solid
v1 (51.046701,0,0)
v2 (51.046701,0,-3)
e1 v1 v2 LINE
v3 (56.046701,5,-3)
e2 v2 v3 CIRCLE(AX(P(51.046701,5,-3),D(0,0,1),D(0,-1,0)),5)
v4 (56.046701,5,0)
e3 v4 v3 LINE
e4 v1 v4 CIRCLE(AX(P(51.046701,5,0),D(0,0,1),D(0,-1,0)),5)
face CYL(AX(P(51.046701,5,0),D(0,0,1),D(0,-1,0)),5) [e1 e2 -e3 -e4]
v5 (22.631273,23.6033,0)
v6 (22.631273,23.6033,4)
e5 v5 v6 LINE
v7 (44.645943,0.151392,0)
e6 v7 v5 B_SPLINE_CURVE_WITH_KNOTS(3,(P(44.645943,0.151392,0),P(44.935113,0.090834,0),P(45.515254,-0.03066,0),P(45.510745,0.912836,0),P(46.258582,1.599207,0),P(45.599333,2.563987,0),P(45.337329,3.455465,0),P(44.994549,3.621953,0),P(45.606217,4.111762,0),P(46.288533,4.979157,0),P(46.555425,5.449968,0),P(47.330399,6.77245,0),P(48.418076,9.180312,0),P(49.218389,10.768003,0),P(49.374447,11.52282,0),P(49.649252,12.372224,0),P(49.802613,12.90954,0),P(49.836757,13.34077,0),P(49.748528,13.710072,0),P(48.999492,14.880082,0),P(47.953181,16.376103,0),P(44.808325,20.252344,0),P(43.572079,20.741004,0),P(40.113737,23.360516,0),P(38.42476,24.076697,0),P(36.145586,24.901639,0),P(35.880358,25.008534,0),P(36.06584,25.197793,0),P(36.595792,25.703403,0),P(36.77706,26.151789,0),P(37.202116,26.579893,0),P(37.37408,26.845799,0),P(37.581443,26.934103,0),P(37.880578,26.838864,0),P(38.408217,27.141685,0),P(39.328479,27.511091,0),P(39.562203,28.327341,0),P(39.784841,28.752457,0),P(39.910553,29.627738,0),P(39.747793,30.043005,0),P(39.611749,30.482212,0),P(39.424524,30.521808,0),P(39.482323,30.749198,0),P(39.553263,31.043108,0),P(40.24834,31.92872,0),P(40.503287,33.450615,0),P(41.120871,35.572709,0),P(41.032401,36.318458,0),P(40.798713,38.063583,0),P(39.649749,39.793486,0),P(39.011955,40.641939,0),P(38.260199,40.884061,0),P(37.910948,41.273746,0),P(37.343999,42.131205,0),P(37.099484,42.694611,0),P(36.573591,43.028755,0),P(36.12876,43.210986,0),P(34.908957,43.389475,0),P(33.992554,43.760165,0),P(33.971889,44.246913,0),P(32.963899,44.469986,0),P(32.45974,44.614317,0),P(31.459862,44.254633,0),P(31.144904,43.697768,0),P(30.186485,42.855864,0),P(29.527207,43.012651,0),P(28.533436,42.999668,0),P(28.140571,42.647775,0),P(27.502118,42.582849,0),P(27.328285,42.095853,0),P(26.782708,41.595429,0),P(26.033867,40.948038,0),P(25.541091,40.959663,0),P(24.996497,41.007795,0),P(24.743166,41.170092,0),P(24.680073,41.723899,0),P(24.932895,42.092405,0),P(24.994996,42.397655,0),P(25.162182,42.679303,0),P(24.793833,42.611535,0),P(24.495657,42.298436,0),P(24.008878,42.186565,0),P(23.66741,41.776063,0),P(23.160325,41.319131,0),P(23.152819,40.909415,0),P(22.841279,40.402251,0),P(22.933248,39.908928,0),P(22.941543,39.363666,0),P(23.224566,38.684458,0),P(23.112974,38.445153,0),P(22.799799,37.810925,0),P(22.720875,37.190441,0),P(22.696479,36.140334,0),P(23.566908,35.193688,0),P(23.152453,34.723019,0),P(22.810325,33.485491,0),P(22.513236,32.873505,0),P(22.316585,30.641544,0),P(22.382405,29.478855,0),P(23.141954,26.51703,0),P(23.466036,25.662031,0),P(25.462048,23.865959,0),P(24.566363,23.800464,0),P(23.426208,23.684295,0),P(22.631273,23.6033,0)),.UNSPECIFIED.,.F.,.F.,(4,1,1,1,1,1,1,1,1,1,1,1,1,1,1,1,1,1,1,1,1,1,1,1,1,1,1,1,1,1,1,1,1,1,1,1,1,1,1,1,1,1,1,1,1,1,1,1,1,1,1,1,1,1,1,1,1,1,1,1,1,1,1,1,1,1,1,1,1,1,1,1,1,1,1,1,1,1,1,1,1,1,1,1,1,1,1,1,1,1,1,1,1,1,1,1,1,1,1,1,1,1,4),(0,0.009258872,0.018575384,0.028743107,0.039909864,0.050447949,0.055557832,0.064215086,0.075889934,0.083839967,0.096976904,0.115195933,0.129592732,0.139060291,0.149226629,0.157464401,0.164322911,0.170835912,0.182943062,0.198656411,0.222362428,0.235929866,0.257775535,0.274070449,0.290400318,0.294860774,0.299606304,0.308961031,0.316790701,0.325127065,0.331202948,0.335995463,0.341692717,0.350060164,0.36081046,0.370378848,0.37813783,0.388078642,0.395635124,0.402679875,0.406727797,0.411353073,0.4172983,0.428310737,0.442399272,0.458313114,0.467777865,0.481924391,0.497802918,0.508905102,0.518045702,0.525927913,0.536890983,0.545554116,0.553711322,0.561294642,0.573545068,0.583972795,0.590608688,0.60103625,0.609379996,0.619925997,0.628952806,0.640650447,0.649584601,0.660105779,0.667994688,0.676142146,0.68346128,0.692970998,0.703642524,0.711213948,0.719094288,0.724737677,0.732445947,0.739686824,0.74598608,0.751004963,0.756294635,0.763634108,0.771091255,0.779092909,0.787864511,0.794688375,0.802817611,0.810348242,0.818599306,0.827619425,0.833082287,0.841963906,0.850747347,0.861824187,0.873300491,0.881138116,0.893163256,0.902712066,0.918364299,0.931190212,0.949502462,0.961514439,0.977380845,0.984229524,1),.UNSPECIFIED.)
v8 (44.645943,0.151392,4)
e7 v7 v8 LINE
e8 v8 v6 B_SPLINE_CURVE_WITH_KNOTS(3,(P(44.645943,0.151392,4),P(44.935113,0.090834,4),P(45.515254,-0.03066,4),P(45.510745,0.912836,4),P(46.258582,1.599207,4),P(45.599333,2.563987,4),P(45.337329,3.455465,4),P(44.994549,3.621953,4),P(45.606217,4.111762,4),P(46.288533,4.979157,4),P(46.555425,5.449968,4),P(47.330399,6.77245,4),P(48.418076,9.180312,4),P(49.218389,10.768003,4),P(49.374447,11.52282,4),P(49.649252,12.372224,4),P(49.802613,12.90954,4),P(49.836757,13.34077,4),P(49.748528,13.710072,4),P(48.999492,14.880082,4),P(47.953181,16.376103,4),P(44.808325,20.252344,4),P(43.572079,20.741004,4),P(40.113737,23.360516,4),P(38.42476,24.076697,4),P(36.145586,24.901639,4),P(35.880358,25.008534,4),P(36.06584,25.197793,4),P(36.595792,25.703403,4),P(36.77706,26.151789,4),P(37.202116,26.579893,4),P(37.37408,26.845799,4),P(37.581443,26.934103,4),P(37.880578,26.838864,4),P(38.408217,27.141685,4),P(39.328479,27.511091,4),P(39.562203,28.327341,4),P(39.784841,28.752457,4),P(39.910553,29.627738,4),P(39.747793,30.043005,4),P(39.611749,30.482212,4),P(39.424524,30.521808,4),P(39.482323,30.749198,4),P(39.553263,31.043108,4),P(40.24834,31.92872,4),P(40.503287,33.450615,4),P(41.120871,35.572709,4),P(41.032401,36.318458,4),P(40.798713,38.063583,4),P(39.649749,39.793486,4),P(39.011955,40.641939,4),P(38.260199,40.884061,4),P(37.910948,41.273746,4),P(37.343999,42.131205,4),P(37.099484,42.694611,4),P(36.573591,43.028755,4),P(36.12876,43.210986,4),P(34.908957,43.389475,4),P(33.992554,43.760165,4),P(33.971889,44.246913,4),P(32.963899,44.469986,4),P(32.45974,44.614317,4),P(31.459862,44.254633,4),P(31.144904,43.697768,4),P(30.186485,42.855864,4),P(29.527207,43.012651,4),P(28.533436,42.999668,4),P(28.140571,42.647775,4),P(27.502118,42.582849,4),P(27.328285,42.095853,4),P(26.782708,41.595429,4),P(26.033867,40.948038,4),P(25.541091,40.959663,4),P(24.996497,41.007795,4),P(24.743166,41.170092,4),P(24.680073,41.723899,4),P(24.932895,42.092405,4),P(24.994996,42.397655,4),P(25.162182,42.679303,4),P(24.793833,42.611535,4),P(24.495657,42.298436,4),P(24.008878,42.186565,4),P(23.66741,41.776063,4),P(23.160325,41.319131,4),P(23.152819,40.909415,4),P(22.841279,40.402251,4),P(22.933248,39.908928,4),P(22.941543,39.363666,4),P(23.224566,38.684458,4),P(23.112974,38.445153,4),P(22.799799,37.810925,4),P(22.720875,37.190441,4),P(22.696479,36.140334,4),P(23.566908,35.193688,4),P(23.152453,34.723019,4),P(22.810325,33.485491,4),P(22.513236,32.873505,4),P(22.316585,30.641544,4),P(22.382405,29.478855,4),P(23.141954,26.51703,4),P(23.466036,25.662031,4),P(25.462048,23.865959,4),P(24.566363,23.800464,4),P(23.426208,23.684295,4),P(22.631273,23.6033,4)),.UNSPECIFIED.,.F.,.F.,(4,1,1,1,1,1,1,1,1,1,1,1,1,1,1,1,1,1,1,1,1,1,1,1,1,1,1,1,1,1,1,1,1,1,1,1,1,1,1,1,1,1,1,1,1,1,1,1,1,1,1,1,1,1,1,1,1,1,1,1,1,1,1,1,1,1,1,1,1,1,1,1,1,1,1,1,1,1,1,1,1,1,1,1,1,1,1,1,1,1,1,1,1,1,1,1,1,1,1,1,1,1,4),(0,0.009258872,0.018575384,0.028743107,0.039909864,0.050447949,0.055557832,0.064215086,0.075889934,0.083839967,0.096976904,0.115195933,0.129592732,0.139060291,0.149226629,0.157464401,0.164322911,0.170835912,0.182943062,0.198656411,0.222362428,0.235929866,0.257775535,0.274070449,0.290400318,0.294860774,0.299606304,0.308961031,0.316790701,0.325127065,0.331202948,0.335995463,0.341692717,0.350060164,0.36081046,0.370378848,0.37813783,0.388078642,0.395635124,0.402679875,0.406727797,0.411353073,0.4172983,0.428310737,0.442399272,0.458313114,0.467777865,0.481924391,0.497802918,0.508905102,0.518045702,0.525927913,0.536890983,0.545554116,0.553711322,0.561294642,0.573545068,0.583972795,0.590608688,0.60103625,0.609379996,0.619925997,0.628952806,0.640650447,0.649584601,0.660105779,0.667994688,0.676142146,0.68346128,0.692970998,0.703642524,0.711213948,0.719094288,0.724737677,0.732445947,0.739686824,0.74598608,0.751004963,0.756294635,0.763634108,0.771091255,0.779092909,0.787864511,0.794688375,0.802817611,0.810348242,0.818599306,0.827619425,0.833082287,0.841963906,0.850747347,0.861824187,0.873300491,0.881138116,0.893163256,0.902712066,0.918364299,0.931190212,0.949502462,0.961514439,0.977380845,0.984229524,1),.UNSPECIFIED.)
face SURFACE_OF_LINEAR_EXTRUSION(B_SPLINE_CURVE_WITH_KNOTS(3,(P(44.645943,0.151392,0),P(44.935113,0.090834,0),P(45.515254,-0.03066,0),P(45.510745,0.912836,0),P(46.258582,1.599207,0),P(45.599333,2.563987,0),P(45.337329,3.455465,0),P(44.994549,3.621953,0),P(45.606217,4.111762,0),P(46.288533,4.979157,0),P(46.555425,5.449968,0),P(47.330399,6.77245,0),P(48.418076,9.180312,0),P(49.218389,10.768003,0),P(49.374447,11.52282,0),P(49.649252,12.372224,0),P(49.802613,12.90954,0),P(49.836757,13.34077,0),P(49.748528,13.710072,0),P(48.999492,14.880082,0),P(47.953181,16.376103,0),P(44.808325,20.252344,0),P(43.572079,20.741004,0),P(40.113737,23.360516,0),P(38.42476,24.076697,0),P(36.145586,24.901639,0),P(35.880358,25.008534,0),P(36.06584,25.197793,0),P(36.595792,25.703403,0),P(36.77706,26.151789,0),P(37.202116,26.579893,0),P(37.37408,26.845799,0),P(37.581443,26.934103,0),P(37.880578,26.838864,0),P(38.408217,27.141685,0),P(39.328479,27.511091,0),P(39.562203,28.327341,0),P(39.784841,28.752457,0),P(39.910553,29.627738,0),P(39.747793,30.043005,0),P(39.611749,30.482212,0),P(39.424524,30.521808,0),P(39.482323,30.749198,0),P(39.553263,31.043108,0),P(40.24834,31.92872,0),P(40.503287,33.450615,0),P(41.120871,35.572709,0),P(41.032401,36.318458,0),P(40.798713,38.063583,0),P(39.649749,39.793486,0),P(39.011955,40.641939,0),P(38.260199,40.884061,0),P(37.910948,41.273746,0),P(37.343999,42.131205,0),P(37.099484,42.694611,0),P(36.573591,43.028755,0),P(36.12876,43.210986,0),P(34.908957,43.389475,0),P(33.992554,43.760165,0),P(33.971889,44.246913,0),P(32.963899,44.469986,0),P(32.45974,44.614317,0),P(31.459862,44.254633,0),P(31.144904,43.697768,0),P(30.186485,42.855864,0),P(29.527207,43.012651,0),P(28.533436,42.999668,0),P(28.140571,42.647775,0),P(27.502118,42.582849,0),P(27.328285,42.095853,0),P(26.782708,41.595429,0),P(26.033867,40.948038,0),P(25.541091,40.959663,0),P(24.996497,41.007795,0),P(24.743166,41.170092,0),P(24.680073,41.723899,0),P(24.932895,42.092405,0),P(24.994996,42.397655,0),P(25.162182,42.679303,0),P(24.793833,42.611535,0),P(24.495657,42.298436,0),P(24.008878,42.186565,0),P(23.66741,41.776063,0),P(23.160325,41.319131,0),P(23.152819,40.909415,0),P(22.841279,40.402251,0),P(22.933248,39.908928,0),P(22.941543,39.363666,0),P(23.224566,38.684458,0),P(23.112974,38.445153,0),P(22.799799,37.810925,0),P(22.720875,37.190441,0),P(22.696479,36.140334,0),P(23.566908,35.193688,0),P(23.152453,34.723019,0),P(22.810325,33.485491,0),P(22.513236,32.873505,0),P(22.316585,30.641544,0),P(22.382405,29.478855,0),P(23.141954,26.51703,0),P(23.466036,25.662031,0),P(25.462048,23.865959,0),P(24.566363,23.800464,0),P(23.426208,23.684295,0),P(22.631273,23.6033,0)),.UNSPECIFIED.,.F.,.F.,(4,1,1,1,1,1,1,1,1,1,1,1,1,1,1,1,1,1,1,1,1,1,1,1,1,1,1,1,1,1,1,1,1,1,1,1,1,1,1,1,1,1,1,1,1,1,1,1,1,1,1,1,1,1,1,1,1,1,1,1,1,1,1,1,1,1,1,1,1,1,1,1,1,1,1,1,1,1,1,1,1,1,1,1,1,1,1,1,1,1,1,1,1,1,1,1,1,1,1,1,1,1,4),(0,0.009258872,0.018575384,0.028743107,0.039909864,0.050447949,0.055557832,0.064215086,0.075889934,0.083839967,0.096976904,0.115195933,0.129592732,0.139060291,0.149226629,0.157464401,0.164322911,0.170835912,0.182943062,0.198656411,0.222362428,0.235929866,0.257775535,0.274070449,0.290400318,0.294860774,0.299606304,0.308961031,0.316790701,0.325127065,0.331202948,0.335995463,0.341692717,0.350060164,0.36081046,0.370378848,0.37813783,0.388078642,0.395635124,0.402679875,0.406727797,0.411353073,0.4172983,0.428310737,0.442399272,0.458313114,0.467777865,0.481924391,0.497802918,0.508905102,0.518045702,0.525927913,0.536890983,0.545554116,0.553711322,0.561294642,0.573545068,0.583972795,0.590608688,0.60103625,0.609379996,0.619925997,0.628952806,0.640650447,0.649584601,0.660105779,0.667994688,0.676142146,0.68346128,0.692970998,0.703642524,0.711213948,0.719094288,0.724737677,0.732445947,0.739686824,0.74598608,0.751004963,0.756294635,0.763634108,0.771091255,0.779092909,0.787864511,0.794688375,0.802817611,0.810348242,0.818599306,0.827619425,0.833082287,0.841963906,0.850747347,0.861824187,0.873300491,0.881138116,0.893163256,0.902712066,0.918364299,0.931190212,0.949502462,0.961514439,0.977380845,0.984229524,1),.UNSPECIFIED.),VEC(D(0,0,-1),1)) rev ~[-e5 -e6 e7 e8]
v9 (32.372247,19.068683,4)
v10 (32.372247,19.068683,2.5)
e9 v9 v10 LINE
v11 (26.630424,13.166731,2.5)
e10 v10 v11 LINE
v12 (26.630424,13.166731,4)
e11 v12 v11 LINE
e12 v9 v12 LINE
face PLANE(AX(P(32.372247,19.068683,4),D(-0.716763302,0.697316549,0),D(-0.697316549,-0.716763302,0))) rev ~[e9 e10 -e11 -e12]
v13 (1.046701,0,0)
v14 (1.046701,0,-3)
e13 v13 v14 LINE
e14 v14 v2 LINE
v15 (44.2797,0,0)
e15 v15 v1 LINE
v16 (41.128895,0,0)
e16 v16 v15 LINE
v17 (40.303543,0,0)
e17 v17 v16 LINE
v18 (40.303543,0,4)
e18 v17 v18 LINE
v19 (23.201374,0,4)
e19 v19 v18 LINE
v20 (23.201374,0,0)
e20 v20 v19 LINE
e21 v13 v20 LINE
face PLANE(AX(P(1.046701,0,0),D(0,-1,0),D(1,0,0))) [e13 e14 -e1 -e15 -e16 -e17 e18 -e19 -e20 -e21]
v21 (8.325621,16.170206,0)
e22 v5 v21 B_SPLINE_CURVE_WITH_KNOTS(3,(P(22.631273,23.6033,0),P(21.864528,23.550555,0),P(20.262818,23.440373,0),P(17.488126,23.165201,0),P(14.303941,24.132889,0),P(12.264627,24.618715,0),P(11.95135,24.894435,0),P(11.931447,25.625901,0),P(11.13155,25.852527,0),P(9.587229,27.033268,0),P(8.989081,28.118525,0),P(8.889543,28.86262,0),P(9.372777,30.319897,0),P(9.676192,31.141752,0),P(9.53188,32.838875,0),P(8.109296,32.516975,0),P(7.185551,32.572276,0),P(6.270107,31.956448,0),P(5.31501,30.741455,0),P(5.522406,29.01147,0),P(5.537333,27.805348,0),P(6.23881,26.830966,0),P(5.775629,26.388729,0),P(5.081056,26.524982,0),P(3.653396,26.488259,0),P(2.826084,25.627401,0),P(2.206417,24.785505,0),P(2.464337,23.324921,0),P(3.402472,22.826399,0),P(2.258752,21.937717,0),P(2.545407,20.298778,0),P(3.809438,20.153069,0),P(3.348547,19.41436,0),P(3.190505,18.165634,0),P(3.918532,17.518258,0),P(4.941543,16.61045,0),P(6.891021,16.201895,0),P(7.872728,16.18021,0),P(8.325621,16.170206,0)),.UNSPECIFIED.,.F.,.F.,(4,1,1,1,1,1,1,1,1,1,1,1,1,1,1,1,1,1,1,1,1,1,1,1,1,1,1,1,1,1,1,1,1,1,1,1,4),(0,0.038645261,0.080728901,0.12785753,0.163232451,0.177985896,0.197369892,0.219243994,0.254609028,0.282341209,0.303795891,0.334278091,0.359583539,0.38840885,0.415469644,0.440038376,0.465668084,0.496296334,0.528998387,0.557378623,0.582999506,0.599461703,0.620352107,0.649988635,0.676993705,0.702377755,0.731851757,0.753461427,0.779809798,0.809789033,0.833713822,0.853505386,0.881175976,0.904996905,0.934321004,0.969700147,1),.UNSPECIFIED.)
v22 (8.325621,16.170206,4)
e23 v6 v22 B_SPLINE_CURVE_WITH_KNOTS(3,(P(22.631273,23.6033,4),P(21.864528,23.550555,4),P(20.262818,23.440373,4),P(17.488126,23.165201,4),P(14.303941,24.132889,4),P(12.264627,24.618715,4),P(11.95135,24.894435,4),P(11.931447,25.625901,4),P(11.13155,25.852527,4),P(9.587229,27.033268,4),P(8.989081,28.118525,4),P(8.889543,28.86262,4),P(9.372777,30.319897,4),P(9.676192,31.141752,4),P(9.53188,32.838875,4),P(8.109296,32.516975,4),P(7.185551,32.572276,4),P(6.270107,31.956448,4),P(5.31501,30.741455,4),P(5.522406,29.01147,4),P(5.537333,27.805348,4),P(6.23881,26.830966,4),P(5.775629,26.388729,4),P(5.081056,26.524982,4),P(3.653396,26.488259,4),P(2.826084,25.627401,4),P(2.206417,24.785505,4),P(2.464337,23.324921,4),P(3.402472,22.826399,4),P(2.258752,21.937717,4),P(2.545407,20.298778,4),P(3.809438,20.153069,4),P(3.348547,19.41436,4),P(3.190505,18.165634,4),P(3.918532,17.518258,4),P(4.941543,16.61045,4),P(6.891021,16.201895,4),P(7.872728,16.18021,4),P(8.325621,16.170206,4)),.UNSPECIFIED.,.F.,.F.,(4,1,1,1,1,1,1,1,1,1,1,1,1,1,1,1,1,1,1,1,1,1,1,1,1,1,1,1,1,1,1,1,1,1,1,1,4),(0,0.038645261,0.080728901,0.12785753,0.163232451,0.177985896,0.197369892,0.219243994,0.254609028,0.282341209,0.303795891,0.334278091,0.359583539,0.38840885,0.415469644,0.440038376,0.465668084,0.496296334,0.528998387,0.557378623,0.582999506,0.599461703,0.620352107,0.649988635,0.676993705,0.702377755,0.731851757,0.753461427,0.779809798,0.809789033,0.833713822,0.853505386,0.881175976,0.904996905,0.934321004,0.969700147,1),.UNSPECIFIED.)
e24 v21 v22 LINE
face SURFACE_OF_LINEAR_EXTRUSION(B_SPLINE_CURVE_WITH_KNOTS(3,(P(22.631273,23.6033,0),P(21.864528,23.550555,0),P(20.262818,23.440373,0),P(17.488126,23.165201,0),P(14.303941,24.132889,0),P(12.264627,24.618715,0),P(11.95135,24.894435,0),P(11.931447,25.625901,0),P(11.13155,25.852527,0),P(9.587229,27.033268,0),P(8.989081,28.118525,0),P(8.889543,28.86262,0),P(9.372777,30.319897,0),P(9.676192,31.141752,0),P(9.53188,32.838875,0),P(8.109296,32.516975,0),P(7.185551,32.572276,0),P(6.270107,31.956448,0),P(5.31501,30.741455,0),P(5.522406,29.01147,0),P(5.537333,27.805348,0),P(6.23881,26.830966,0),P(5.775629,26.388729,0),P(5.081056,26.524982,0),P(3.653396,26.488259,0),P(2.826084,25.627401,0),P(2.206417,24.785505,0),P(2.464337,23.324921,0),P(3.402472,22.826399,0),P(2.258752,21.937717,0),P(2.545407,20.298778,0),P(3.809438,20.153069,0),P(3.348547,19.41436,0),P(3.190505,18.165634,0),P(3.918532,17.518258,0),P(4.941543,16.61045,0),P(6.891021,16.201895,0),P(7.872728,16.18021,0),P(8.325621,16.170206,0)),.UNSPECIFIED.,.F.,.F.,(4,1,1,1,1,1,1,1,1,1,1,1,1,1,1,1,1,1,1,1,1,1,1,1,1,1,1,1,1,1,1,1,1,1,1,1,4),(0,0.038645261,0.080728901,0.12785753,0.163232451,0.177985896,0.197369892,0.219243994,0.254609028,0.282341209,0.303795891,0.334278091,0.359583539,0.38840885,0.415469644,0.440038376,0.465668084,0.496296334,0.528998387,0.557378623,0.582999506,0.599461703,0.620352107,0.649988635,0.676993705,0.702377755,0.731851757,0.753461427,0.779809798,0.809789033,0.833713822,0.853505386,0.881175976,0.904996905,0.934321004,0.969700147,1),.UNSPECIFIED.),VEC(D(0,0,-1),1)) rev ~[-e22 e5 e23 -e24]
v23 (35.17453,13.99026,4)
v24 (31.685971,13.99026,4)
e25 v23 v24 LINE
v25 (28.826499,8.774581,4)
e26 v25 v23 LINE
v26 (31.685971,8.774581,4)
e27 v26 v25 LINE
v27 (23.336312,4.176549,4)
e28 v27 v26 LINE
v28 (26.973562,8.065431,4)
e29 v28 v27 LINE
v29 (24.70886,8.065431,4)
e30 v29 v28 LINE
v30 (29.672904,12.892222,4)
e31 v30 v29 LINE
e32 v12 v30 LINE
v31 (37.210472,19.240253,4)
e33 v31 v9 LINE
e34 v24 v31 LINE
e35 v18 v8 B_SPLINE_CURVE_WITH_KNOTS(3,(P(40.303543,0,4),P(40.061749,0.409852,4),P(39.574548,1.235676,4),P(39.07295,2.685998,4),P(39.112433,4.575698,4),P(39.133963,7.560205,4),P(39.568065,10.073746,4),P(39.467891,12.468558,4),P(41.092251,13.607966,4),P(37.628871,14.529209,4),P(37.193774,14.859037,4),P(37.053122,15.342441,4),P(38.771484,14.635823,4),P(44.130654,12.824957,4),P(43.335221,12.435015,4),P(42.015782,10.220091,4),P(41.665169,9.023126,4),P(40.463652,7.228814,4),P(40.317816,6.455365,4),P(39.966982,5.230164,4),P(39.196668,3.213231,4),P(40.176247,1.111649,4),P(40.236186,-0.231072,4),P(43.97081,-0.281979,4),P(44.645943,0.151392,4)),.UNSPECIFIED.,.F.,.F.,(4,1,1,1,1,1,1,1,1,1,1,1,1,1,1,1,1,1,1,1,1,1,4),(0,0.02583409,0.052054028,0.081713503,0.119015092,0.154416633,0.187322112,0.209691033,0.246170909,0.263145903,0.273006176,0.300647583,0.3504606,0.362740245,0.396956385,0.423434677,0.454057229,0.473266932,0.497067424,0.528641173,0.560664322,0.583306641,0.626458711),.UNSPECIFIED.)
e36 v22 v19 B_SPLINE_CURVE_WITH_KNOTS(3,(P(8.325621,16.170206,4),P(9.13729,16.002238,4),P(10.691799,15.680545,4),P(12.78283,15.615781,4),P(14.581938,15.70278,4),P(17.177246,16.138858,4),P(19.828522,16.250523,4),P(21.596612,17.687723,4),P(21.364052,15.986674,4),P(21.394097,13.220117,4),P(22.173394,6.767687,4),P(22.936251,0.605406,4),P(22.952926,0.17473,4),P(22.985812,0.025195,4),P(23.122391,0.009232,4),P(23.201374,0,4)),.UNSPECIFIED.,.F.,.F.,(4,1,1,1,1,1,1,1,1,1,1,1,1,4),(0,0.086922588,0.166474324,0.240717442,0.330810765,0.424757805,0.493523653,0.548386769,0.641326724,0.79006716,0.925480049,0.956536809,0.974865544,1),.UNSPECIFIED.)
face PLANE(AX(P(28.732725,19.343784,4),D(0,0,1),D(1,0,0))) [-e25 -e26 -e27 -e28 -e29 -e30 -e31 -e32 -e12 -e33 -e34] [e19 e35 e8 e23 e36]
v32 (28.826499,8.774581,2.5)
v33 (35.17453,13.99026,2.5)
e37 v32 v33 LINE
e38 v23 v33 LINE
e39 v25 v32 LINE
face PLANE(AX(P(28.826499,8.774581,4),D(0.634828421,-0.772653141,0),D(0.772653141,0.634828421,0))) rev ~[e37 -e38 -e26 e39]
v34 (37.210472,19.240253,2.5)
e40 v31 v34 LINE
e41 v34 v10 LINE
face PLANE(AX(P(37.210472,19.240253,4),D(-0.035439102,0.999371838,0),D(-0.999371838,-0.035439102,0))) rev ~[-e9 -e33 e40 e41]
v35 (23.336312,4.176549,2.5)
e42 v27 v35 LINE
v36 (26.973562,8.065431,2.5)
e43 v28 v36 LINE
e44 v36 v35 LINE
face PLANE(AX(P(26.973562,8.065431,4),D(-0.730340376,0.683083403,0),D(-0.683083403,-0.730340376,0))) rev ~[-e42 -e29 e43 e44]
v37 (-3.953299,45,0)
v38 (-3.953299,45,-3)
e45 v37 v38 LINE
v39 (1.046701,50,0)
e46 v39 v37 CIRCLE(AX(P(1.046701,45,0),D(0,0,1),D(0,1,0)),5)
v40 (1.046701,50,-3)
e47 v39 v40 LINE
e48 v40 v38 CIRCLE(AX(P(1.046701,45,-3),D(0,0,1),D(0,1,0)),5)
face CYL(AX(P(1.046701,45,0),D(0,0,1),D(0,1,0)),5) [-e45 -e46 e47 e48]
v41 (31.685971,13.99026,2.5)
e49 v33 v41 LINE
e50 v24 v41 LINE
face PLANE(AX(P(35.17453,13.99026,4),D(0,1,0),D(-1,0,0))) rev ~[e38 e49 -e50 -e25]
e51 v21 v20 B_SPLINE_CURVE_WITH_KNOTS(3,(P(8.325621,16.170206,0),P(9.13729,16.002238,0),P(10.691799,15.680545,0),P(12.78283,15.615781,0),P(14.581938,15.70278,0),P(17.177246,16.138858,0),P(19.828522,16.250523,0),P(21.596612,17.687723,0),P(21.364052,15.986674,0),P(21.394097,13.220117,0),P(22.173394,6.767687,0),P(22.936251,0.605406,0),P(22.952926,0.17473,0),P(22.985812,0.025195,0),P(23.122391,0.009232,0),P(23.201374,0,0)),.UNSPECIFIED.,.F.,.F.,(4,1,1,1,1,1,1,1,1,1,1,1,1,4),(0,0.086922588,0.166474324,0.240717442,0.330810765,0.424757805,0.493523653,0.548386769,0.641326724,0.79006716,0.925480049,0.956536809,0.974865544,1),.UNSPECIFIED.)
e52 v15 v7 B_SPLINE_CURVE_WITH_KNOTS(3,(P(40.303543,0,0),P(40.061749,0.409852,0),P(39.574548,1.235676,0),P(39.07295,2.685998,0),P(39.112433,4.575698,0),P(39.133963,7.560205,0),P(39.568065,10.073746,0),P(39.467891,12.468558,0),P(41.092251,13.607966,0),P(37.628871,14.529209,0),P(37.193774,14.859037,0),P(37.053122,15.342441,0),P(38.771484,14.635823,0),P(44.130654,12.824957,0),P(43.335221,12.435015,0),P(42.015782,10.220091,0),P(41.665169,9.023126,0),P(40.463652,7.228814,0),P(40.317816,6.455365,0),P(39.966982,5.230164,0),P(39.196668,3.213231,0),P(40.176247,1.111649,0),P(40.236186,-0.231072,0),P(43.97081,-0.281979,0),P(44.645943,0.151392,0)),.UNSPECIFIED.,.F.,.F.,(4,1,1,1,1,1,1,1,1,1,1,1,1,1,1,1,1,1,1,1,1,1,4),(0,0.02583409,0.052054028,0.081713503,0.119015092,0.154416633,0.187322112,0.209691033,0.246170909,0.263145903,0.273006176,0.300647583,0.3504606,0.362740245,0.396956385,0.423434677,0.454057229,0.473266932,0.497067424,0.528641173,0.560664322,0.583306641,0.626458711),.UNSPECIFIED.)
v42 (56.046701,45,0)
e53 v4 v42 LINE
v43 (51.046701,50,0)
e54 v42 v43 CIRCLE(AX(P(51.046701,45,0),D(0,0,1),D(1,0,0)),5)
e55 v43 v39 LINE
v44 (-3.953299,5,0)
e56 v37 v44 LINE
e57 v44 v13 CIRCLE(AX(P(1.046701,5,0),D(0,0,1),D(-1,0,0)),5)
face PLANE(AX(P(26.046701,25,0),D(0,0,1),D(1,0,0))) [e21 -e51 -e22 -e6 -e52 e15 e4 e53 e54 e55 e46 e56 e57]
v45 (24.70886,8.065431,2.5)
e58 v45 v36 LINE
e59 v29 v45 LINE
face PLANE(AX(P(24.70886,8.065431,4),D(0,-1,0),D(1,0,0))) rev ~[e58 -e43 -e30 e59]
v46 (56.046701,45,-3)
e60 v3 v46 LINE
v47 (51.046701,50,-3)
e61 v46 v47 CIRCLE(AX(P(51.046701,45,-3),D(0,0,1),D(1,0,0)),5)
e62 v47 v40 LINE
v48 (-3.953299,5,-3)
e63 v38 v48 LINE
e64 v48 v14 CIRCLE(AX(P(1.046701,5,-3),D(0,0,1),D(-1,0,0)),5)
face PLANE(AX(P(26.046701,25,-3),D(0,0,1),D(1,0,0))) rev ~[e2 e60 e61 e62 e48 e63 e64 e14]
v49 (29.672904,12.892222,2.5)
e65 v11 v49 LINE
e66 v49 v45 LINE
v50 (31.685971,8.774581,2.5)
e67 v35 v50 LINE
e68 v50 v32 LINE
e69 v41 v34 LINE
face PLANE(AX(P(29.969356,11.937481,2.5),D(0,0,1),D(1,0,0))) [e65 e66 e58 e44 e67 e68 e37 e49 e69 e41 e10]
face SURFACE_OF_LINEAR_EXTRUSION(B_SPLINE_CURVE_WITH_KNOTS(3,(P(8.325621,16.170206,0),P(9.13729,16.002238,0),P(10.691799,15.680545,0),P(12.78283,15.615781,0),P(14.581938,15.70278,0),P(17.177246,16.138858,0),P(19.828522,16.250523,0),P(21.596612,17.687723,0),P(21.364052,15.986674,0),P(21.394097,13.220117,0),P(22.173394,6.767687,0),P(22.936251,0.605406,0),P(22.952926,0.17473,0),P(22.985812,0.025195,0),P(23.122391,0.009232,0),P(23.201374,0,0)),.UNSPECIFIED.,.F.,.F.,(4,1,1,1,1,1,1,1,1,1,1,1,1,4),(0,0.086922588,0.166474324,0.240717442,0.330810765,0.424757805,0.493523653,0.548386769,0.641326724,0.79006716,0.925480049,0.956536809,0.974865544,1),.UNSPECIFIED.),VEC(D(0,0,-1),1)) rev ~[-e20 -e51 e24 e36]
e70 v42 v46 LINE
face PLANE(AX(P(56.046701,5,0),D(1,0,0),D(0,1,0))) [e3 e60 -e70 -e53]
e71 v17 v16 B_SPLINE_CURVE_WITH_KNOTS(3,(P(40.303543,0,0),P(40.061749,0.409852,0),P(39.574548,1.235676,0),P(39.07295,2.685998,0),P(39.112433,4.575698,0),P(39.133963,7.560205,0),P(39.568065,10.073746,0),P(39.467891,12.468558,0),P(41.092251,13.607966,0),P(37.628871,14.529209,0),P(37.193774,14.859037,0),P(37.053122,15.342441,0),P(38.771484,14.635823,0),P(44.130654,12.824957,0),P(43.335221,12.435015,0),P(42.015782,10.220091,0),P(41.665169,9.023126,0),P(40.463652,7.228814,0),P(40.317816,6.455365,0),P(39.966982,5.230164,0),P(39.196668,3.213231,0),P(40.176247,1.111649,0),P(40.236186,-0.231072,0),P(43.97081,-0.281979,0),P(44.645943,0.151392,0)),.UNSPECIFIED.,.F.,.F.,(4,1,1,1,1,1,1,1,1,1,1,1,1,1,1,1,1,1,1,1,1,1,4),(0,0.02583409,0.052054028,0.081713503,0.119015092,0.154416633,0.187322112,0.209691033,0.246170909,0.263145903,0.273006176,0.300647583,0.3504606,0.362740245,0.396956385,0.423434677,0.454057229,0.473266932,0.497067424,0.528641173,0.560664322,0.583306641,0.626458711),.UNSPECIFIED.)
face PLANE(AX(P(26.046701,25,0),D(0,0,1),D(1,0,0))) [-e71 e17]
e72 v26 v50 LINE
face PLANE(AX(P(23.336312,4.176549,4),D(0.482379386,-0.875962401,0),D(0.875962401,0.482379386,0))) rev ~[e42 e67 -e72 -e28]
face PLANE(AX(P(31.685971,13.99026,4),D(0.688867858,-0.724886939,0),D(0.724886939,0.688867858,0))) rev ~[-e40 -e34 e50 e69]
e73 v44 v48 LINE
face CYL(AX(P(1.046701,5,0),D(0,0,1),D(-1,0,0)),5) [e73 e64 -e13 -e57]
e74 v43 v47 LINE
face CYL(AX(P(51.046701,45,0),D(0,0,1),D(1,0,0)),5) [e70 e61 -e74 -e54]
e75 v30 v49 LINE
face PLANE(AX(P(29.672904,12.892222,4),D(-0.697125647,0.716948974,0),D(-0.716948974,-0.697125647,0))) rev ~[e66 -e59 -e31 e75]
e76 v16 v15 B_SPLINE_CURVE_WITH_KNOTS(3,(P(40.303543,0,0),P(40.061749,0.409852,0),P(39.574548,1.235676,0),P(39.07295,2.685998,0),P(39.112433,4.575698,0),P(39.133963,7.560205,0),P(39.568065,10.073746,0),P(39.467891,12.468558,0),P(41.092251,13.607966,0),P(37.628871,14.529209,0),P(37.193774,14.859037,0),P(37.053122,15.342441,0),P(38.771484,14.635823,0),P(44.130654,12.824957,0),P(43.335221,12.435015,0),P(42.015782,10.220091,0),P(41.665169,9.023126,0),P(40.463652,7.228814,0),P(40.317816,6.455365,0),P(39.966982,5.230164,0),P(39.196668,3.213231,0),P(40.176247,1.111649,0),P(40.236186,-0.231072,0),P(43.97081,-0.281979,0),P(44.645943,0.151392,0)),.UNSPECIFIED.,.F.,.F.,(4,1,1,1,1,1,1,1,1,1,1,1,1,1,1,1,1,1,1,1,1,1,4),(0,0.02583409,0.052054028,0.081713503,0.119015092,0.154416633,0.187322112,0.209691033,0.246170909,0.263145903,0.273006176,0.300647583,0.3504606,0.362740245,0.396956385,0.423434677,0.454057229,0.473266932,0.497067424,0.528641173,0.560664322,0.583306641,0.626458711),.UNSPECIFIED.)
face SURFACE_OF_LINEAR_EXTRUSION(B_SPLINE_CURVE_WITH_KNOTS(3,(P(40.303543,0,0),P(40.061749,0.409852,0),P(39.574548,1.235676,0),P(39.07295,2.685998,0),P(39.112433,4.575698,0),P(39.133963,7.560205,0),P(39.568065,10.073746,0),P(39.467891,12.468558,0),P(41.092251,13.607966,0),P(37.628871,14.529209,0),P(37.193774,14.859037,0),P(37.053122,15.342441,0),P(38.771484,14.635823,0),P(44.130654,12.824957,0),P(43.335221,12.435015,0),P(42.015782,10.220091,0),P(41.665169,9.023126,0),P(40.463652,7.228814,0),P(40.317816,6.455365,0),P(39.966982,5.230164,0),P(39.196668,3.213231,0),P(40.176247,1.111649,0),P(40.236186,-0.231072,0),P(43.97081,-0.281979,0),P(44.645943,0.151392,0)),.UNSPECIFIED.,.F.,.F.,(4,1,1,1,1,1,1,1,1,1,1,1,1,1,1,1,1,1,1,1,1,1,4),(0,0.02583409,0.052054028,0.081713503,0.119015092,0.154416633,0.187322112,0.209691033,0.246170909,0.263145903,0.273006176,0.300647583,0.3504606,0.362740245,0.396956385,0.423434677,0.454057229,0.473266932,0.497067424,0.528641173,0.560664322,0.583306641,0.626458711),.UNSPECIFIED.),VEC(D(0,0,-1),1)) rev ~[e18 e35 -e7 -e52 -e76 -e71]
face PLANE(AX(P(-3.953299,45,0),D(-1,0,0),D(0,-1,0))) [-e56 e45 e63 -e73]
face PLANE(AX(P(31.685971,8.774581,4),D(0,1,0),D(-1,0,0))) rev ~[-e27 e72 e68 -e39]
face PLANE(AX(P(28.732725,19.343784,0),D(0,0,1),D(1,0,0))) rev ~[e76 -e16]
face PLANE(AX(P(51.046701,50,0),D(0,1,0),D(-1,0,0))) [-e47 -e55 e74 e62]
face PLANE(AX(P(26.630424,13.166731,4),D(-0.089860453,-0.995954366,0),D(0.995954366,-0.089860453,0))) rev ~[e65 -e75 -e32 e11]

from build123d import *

# Parameters (mm, degrees)
F1_DEPTH = 4
F3_DEPTH = 3
F5_DEPTH = 1.5


with BuildPart() as f1:
    # F0 (on Top) → F1 (new body)
    with BuildSketch(Plane.XY):
        with BuildLine():
            add(Edge.make_bspline(
                [(8.3256214857, 16.1702055484), (9.1372899139, 16.0022376257), (10.6917989975, 15.6805451063), (12.7828301268, 15.6157811392), (14.5819382962, 15.7027804812), (17.1772456989, 16.1388582351), (19.8285219404, 16.2505230153), (21.5966118989, 17.6877234302), (21.3640518656, 15.9866735878), (21.3940967994, 13.2201167825), (22.1733937937, 6.7676869486), (22.9362513914, 0.6054056477), (22.9529260914, 0.1747299981), (22.9858116283, 0.0251948702), (23.1223912874, 0.0092315025), (23.2013743371, 0)],
                knots=[0, 0, 0, 0, 0.086922588, 0.1664743237, 0.2407174416, 0.3308107649, 0.4247578045, 0.4935236529, 0.5483867695, 0.6413267237, 0.7900671598, 0.9254800491, 0.9565368091, 0.9748655445, 1, 1, 1, 1], degree=3))
            Line((23.2013743371, 0), (40.30354321, 0))
            add(Edge.make_bspline(
                [(40.30354321, 0), (40.0617485314, 0.4098515486), (39.5745478273, 1.2356760215), (39.0729504269, 2.6859975003), (39.1124327203, 4.5756977513), (39.1339629917, 7.5602046045), (39.5680650283, 10.0737460521), (39.4678912104, 12.4685580628), (41.0922508516, 13.6079659456), (37.6288707212, 14.5292087433), (37.1937741543, 14.8590369973), (37.0531216302, 15.342440968), (38.7714837565, 14.6358230319), (44.1306535924, 12.8249569107), (43.3352214155, 12.4350150213), (42.0157821278, 10.220090913), (41.6651686435, 9.0231262239), (40.4636516832, 7.2288136647), (40.3178155939, 6.4553649985), (39.9669823095, 5.2301640799), (39.1966680045, 3.2132312147), (40.1762471592, 1.1116492054), (40.2361859188, -0.2310718079), (43.9708096803, -0.2819789075), (44.6459427476, 0.1513924799)],
                knots=[0, 0, 0, 0, 0.0258340904, 0.0520540282, 0.0817135034, 0.1190150916, 0.1544166334, 0.1873221119, 0.2096910329, 0.2461709091, 0.2631459031, 0.2730061755, 0.3006475831, 0.3504606005, 0.3627402449, 0.3969563846, 0.4234346769, 0.4540572292, 0.4732669323, 0.4970674239, 0.5286411734, 0.5606643223, 0.5833066407, 0.6264587109, 0.6264587109, 0.6264587109, 0.6264587109], degree=3))
            add(Edge.make_bspline(
                [(44.6459427476, 0.1513924799), (44.9351130393, 0.0908339854), (45.5152538124, -0.0306600023), (45.5107450341, 0.9128355869), (46.2585817948, 1.5992068693), (45.5993326956, 2.5639872467), (45.3373287162, 3.4554646107), (44.9945487664, 3.6219528223), (45.606217184, 4.1117617617), (46.2885333226, 4.9791566034), (46.5554253171, 5.449968284), (47.3303988636, 6.7724500157), (48.418075503, 9.1803120164), (49.2183889124, 10.7680034124), (49.3744467638, 11.5228204967), (49.6492518921, 12.3722239617), (49.8026126637, 12.9095404762), (49.8367570806, 13.3407704814), (49.7485277083, 13.7100721467), (48.9994920188, 14.8800820293), (47.9531814675, 16.376103065), (44.8083246509, 20.2523439292), (43.5720791436, 20.7410040508), (40.113736919, 23.3605163511), (38.4247601331, 24.0766974076), (36.1455855523, 24.9016388289), (35.8803577107, 25.0085344818), (36.065840461, 25.1977934043), (36.595791637, 25.7034025368), (36.7770597069, 26.1517893474), (37.20211617, 26.5798926773), (37.3740799453, 26.8457986526), (37.5814426806, 26.934102882), (37.8805778278, 26.8388644422), (38.4082167379, 27.1416853428), (39.3284789479, 27.5110910697), (39.5622029352, 28.3273409238), (39.7848414403, 28.7524568164), (39.9105530354, 29.6277384148), (39.7477934466, 30.0430053177), (39.6117490473, 30.4822124862), (39.4245236879, 30.5218079617), (39.4823225623, 30.7491979649), (39.5532634875, 31.0431081671), (40.2483397548, 31.9287195283), (40.5032873341, 33.4506149312), (41.1208707236, 35.5727089452), (41.0324007969, 36.3184581412), (40.7987125695, 38.0635831606), (39.6497489325, 39.7934858492), (39.0119547906, 40.641939023), (38.2601985433, 40.8840613036), (37.9109479652, 41.2737460631), (37.3439988502, 42.1312045901), (37.0994843725, 42.6946108063), (36.5735906004, 43.0287554325), (36.1287603339, 43.2109856404), (34.9089574657, 43.3894751871), (33.9925544537, 43.7601645602), (33.9718893961, 44.2469133312), (32.963899123, 44.4699857291), (32.4597401242, 44.6143165382), (31.4598615215, 44.2546331456), (31.1449043948, 43.6977683985), (30.1864852485, 42.8558635991), (29.5272065249, 43.0126512892), (28.533435567, 42.9996677877), (28.1405707121, 42.6477746684), (27.5021184369, 42.5828485011), (27.3282853969, 42.0958527335), (26.7827084486, 41.5954292084), (26.0338670622, 40.948037527), (25.5410909516, 40.9596628414), (24.9964965162, 41.0077950705), (24.7431658297, 41.1700918616), (24.6800730081, 41.7238993558), (24.9328952645, 42.092404657), (24.9949956666, 42.3976552633), (25.1621820652, 42.6793030968), (24.79383274, 42.6115353133), (24.4956573079, 42.2984355131), (24.0088780051, 42.1865645829), (23.6674100819, 41.7760631647), (23.1603249486, 41.3191305943), (23.1528188765, 40.909414848), (22.8412790168, 40.4022513131), (22.9332481448, 39.9089275375), (22.9415426078, 39.3636660287), (23.2245659863, 38.6844581986), (23.1129742744, 38.4451530706), (22.7997986452, 37.8109253803), (22.720875183, 37.1904405538), (22.6964786365, 36.1403340959), (23.5669081629, 35.1936883652), (23.1524525771, 34.7230189827), (22.8103253541, 33.4854910907), (22.5132357159, 32.8735049375), (22.3165853308, 30.6415440255), (22.3824047894, 29.4788550829), (23.1419542547, 26.5170302325), (23.4660364303, 25.6620312839), (25.4620480476, 23.8659585147), (24.566362643, 23.8004638797), (23.4262084274, 23.6842947863), (22.6312726736, 23.6032996327)],
                knots=[0, 0, 0, 0, 0.0092588719, 0.0185753837, 0.0287431072, 0.0399098643, 0.0504479491, 0.0555578315, 0.0642150857, 0.0758899339, 0.0838399667, 0.0969769042, 0.1151959333, 0.129592732, 0.1390602909, 0.1492266292, 0.1574644009, 0.1643229113, 0.1708359125, 0.1829430619, 0.1986564113, 0.2223624283, 0.235929866, 0.2577755354, 0.2740704493, 0.290400318, 0.2948607741, 0.2996063043, 0.3089610306, 0.3167907008, 0.3251270648, 0.3312029475, 0.3359954632, 0.3416927167, 0.3500601636, 0.3608104603, 0.3703788477, 0.3781378296, 0.3880786421, 0.3956351237, 0.4026798754, 0.4067277972, 0.4113530735, 0.4172983002, 0.4283107369, 0.4423992715, 0.458313114, 0.4677778648, 0.4819243915, 0.4978029183, 0.5089051025, 0.518045702, 0.5259279125, 0.5368909834, 0.545554116, 0.5537113224, 0.5612946422, 0.5735450675, 0.5839727951, 0.5906086881, 0.6010362498, 0.6093799965, 0.6199259975, 0.6289528063, 0.6406504467, 0.6495846012, 0.6601057792, 0.6679946884, 0.6761421462, 0.6834612797, 0.6929709976, 0.7036425239, 0.7112139481, 0.7190942879, 0.7247376772, 0.7324459467, 0.7396868244, 0.7459860796, 0.7510049625, 0.756294635, 0.763634108, 0.7710912551, 0.7790929089, 0.7878645109, 0.7946883751, 0.8028176109, 0.8103482422, 0.8185993062, 0.8276194254, 0.8330822867, 0.8419639059, 0.8507473468, 0.8618241867, 0.8733004912, 0.8811381159, 0.8931632557, 0.9027120657, 0.9183642989, 0.9311902118, 0.9495024624, 0.9615144389, 0.9773808452, 0.9842295238, 1, 1, 1, 1], degree=3))
            add(Edge.make_bspline(
                [(22.6312726736, 23.6032996327), (21.8645276885, 23.5505549498), (20.2628182524, 23.4403727408), (17.4881257999, 23.1652007886), (14.303941332, 24.1328892787), (12.2646266685, 24.6187151298), (11.9513498409, 24.8944349281), (11.9314471929, 25.6259011658), (11.1315498447, 25.8525268076), (9.587229052, 27.0332677088), (8.989081301, 28.1185252979), (8.8895427504, 28.8626198075), (9.3727771712, 30.3198969972), (9.6761915455, 31.1417523528), (9.5318797499, 32.8388753869), (8.1092955345, 32.5169750734), (7.1855514904, 32.5722760088), (6.2701068235, 31.9564484339), (5.3150104887, 30.7414547128), (5.5224058234, 29.0114699009), (5.537333185, 27.8053480069), (6.2388100301, 26.8309659387), (5.7756294358, 26.3887289888), (5.0810560643, 26.5249824151), (3.6533961674, 26.4882585753), (2.8260840018, 25.6274013345), (2.2064167161, 24.7855046286), (2.4643369156, 23.3249205105), (3.4024718553, 22.8263987873), (2.2587517151, 21.9377171286), (2.5454072443, 20.2987781876), (3.8094383459, 20.1530686984), (3.3485468594, 19.414360495), (3.1905048687, 18.1656341453), (3.9185322064, 17.5182584768), (4.9415433388, 16.6104497113), (6.8910214878, 16.2018954921), (7.8727282697, 16.1802098427), (8.3256214857, 16.1702055484)],
                knots=[0, 0, 0, 0, 0.0386452613, 0.0807289007, 0.1278575303, 0.1632324508, 0.1779858957, 0.1973698916, 0.2192439943, 0.2546090279, 0.2823412091, 0.3037958913, 0.3342780915, 0.3595835392, 0.3884088496, 0.4154696442, 0.4400383765, 0.4656680842, 0.4962963342, 0.5289983874, 0.5573786228, 0.5829995057, 0.5994617028, 0.620352107, 0.6499886348, 0.6769937046, 0.7023777551, 0.7318517571, 0.7534614274, 0.7798097979, 0.8097890329, 0.8337138224, 0.8535053856, 0.8811759761, 0.9049969054, 0.9343210044, 0.9697001466, 1, 1, 1, 1], degree=3))
        make_face()
    extrude(amount=F1_DEPTH)

    # F2 (on Top) → F3 (join)
    with BuildSketch(Plane.XY):
        with BuildLine():
            Line((51.046701388, 50), (1.046701388, 50))
            ThreePointArc((1.046701388, 50), (-2.488832518, 48.5355339059), (-3.953298612, 45))
            Line((-3.953298612, 45), (-3.953298612, 5))
            ThreePointArc((-3.953298612, 5), (-2.488832518, 1.4644660941), (1.046701388, 0))
            Line((1.046701388, 0), (51.046701388, 0))
            ThreePointArc((51.046701388, 0), (54.5822352939, 1.4644660941), (56.046701388, 5))
            Line((56.046701388, 5), (56.046701388, 45))
            ThreePointArc((56.046701388, 45), (54.5822352939, 48.5355339059), (51.046701388, 50))
        make_face()
    extrude(amount=-F3_DEPTH)

    # F4 (on face) → F5 (cut)
    with BuildSketch(Plane.XY.offset(4)):
        Polygon((37.2104719281, 19.2402526736), (32.3722474277, 19.0686825663), (26.6304239631, 13.1667312235), (29.6729039401, 12.892222032), (24.7088596225, 8.0654313788), (26.9735623151, 8.0654313788), (23.3363118023, 4.1765491478), (31.6859707236, 8.7745813653), (28.8264993578, 8.7745813653), (35.1745299995, 13.9902597293), (31.6859707236, 13.9902597293), align=None)
    extrude(amount=-F5_DEPTH, mode=Mode.SUBTRACT)


solid = f1.part
